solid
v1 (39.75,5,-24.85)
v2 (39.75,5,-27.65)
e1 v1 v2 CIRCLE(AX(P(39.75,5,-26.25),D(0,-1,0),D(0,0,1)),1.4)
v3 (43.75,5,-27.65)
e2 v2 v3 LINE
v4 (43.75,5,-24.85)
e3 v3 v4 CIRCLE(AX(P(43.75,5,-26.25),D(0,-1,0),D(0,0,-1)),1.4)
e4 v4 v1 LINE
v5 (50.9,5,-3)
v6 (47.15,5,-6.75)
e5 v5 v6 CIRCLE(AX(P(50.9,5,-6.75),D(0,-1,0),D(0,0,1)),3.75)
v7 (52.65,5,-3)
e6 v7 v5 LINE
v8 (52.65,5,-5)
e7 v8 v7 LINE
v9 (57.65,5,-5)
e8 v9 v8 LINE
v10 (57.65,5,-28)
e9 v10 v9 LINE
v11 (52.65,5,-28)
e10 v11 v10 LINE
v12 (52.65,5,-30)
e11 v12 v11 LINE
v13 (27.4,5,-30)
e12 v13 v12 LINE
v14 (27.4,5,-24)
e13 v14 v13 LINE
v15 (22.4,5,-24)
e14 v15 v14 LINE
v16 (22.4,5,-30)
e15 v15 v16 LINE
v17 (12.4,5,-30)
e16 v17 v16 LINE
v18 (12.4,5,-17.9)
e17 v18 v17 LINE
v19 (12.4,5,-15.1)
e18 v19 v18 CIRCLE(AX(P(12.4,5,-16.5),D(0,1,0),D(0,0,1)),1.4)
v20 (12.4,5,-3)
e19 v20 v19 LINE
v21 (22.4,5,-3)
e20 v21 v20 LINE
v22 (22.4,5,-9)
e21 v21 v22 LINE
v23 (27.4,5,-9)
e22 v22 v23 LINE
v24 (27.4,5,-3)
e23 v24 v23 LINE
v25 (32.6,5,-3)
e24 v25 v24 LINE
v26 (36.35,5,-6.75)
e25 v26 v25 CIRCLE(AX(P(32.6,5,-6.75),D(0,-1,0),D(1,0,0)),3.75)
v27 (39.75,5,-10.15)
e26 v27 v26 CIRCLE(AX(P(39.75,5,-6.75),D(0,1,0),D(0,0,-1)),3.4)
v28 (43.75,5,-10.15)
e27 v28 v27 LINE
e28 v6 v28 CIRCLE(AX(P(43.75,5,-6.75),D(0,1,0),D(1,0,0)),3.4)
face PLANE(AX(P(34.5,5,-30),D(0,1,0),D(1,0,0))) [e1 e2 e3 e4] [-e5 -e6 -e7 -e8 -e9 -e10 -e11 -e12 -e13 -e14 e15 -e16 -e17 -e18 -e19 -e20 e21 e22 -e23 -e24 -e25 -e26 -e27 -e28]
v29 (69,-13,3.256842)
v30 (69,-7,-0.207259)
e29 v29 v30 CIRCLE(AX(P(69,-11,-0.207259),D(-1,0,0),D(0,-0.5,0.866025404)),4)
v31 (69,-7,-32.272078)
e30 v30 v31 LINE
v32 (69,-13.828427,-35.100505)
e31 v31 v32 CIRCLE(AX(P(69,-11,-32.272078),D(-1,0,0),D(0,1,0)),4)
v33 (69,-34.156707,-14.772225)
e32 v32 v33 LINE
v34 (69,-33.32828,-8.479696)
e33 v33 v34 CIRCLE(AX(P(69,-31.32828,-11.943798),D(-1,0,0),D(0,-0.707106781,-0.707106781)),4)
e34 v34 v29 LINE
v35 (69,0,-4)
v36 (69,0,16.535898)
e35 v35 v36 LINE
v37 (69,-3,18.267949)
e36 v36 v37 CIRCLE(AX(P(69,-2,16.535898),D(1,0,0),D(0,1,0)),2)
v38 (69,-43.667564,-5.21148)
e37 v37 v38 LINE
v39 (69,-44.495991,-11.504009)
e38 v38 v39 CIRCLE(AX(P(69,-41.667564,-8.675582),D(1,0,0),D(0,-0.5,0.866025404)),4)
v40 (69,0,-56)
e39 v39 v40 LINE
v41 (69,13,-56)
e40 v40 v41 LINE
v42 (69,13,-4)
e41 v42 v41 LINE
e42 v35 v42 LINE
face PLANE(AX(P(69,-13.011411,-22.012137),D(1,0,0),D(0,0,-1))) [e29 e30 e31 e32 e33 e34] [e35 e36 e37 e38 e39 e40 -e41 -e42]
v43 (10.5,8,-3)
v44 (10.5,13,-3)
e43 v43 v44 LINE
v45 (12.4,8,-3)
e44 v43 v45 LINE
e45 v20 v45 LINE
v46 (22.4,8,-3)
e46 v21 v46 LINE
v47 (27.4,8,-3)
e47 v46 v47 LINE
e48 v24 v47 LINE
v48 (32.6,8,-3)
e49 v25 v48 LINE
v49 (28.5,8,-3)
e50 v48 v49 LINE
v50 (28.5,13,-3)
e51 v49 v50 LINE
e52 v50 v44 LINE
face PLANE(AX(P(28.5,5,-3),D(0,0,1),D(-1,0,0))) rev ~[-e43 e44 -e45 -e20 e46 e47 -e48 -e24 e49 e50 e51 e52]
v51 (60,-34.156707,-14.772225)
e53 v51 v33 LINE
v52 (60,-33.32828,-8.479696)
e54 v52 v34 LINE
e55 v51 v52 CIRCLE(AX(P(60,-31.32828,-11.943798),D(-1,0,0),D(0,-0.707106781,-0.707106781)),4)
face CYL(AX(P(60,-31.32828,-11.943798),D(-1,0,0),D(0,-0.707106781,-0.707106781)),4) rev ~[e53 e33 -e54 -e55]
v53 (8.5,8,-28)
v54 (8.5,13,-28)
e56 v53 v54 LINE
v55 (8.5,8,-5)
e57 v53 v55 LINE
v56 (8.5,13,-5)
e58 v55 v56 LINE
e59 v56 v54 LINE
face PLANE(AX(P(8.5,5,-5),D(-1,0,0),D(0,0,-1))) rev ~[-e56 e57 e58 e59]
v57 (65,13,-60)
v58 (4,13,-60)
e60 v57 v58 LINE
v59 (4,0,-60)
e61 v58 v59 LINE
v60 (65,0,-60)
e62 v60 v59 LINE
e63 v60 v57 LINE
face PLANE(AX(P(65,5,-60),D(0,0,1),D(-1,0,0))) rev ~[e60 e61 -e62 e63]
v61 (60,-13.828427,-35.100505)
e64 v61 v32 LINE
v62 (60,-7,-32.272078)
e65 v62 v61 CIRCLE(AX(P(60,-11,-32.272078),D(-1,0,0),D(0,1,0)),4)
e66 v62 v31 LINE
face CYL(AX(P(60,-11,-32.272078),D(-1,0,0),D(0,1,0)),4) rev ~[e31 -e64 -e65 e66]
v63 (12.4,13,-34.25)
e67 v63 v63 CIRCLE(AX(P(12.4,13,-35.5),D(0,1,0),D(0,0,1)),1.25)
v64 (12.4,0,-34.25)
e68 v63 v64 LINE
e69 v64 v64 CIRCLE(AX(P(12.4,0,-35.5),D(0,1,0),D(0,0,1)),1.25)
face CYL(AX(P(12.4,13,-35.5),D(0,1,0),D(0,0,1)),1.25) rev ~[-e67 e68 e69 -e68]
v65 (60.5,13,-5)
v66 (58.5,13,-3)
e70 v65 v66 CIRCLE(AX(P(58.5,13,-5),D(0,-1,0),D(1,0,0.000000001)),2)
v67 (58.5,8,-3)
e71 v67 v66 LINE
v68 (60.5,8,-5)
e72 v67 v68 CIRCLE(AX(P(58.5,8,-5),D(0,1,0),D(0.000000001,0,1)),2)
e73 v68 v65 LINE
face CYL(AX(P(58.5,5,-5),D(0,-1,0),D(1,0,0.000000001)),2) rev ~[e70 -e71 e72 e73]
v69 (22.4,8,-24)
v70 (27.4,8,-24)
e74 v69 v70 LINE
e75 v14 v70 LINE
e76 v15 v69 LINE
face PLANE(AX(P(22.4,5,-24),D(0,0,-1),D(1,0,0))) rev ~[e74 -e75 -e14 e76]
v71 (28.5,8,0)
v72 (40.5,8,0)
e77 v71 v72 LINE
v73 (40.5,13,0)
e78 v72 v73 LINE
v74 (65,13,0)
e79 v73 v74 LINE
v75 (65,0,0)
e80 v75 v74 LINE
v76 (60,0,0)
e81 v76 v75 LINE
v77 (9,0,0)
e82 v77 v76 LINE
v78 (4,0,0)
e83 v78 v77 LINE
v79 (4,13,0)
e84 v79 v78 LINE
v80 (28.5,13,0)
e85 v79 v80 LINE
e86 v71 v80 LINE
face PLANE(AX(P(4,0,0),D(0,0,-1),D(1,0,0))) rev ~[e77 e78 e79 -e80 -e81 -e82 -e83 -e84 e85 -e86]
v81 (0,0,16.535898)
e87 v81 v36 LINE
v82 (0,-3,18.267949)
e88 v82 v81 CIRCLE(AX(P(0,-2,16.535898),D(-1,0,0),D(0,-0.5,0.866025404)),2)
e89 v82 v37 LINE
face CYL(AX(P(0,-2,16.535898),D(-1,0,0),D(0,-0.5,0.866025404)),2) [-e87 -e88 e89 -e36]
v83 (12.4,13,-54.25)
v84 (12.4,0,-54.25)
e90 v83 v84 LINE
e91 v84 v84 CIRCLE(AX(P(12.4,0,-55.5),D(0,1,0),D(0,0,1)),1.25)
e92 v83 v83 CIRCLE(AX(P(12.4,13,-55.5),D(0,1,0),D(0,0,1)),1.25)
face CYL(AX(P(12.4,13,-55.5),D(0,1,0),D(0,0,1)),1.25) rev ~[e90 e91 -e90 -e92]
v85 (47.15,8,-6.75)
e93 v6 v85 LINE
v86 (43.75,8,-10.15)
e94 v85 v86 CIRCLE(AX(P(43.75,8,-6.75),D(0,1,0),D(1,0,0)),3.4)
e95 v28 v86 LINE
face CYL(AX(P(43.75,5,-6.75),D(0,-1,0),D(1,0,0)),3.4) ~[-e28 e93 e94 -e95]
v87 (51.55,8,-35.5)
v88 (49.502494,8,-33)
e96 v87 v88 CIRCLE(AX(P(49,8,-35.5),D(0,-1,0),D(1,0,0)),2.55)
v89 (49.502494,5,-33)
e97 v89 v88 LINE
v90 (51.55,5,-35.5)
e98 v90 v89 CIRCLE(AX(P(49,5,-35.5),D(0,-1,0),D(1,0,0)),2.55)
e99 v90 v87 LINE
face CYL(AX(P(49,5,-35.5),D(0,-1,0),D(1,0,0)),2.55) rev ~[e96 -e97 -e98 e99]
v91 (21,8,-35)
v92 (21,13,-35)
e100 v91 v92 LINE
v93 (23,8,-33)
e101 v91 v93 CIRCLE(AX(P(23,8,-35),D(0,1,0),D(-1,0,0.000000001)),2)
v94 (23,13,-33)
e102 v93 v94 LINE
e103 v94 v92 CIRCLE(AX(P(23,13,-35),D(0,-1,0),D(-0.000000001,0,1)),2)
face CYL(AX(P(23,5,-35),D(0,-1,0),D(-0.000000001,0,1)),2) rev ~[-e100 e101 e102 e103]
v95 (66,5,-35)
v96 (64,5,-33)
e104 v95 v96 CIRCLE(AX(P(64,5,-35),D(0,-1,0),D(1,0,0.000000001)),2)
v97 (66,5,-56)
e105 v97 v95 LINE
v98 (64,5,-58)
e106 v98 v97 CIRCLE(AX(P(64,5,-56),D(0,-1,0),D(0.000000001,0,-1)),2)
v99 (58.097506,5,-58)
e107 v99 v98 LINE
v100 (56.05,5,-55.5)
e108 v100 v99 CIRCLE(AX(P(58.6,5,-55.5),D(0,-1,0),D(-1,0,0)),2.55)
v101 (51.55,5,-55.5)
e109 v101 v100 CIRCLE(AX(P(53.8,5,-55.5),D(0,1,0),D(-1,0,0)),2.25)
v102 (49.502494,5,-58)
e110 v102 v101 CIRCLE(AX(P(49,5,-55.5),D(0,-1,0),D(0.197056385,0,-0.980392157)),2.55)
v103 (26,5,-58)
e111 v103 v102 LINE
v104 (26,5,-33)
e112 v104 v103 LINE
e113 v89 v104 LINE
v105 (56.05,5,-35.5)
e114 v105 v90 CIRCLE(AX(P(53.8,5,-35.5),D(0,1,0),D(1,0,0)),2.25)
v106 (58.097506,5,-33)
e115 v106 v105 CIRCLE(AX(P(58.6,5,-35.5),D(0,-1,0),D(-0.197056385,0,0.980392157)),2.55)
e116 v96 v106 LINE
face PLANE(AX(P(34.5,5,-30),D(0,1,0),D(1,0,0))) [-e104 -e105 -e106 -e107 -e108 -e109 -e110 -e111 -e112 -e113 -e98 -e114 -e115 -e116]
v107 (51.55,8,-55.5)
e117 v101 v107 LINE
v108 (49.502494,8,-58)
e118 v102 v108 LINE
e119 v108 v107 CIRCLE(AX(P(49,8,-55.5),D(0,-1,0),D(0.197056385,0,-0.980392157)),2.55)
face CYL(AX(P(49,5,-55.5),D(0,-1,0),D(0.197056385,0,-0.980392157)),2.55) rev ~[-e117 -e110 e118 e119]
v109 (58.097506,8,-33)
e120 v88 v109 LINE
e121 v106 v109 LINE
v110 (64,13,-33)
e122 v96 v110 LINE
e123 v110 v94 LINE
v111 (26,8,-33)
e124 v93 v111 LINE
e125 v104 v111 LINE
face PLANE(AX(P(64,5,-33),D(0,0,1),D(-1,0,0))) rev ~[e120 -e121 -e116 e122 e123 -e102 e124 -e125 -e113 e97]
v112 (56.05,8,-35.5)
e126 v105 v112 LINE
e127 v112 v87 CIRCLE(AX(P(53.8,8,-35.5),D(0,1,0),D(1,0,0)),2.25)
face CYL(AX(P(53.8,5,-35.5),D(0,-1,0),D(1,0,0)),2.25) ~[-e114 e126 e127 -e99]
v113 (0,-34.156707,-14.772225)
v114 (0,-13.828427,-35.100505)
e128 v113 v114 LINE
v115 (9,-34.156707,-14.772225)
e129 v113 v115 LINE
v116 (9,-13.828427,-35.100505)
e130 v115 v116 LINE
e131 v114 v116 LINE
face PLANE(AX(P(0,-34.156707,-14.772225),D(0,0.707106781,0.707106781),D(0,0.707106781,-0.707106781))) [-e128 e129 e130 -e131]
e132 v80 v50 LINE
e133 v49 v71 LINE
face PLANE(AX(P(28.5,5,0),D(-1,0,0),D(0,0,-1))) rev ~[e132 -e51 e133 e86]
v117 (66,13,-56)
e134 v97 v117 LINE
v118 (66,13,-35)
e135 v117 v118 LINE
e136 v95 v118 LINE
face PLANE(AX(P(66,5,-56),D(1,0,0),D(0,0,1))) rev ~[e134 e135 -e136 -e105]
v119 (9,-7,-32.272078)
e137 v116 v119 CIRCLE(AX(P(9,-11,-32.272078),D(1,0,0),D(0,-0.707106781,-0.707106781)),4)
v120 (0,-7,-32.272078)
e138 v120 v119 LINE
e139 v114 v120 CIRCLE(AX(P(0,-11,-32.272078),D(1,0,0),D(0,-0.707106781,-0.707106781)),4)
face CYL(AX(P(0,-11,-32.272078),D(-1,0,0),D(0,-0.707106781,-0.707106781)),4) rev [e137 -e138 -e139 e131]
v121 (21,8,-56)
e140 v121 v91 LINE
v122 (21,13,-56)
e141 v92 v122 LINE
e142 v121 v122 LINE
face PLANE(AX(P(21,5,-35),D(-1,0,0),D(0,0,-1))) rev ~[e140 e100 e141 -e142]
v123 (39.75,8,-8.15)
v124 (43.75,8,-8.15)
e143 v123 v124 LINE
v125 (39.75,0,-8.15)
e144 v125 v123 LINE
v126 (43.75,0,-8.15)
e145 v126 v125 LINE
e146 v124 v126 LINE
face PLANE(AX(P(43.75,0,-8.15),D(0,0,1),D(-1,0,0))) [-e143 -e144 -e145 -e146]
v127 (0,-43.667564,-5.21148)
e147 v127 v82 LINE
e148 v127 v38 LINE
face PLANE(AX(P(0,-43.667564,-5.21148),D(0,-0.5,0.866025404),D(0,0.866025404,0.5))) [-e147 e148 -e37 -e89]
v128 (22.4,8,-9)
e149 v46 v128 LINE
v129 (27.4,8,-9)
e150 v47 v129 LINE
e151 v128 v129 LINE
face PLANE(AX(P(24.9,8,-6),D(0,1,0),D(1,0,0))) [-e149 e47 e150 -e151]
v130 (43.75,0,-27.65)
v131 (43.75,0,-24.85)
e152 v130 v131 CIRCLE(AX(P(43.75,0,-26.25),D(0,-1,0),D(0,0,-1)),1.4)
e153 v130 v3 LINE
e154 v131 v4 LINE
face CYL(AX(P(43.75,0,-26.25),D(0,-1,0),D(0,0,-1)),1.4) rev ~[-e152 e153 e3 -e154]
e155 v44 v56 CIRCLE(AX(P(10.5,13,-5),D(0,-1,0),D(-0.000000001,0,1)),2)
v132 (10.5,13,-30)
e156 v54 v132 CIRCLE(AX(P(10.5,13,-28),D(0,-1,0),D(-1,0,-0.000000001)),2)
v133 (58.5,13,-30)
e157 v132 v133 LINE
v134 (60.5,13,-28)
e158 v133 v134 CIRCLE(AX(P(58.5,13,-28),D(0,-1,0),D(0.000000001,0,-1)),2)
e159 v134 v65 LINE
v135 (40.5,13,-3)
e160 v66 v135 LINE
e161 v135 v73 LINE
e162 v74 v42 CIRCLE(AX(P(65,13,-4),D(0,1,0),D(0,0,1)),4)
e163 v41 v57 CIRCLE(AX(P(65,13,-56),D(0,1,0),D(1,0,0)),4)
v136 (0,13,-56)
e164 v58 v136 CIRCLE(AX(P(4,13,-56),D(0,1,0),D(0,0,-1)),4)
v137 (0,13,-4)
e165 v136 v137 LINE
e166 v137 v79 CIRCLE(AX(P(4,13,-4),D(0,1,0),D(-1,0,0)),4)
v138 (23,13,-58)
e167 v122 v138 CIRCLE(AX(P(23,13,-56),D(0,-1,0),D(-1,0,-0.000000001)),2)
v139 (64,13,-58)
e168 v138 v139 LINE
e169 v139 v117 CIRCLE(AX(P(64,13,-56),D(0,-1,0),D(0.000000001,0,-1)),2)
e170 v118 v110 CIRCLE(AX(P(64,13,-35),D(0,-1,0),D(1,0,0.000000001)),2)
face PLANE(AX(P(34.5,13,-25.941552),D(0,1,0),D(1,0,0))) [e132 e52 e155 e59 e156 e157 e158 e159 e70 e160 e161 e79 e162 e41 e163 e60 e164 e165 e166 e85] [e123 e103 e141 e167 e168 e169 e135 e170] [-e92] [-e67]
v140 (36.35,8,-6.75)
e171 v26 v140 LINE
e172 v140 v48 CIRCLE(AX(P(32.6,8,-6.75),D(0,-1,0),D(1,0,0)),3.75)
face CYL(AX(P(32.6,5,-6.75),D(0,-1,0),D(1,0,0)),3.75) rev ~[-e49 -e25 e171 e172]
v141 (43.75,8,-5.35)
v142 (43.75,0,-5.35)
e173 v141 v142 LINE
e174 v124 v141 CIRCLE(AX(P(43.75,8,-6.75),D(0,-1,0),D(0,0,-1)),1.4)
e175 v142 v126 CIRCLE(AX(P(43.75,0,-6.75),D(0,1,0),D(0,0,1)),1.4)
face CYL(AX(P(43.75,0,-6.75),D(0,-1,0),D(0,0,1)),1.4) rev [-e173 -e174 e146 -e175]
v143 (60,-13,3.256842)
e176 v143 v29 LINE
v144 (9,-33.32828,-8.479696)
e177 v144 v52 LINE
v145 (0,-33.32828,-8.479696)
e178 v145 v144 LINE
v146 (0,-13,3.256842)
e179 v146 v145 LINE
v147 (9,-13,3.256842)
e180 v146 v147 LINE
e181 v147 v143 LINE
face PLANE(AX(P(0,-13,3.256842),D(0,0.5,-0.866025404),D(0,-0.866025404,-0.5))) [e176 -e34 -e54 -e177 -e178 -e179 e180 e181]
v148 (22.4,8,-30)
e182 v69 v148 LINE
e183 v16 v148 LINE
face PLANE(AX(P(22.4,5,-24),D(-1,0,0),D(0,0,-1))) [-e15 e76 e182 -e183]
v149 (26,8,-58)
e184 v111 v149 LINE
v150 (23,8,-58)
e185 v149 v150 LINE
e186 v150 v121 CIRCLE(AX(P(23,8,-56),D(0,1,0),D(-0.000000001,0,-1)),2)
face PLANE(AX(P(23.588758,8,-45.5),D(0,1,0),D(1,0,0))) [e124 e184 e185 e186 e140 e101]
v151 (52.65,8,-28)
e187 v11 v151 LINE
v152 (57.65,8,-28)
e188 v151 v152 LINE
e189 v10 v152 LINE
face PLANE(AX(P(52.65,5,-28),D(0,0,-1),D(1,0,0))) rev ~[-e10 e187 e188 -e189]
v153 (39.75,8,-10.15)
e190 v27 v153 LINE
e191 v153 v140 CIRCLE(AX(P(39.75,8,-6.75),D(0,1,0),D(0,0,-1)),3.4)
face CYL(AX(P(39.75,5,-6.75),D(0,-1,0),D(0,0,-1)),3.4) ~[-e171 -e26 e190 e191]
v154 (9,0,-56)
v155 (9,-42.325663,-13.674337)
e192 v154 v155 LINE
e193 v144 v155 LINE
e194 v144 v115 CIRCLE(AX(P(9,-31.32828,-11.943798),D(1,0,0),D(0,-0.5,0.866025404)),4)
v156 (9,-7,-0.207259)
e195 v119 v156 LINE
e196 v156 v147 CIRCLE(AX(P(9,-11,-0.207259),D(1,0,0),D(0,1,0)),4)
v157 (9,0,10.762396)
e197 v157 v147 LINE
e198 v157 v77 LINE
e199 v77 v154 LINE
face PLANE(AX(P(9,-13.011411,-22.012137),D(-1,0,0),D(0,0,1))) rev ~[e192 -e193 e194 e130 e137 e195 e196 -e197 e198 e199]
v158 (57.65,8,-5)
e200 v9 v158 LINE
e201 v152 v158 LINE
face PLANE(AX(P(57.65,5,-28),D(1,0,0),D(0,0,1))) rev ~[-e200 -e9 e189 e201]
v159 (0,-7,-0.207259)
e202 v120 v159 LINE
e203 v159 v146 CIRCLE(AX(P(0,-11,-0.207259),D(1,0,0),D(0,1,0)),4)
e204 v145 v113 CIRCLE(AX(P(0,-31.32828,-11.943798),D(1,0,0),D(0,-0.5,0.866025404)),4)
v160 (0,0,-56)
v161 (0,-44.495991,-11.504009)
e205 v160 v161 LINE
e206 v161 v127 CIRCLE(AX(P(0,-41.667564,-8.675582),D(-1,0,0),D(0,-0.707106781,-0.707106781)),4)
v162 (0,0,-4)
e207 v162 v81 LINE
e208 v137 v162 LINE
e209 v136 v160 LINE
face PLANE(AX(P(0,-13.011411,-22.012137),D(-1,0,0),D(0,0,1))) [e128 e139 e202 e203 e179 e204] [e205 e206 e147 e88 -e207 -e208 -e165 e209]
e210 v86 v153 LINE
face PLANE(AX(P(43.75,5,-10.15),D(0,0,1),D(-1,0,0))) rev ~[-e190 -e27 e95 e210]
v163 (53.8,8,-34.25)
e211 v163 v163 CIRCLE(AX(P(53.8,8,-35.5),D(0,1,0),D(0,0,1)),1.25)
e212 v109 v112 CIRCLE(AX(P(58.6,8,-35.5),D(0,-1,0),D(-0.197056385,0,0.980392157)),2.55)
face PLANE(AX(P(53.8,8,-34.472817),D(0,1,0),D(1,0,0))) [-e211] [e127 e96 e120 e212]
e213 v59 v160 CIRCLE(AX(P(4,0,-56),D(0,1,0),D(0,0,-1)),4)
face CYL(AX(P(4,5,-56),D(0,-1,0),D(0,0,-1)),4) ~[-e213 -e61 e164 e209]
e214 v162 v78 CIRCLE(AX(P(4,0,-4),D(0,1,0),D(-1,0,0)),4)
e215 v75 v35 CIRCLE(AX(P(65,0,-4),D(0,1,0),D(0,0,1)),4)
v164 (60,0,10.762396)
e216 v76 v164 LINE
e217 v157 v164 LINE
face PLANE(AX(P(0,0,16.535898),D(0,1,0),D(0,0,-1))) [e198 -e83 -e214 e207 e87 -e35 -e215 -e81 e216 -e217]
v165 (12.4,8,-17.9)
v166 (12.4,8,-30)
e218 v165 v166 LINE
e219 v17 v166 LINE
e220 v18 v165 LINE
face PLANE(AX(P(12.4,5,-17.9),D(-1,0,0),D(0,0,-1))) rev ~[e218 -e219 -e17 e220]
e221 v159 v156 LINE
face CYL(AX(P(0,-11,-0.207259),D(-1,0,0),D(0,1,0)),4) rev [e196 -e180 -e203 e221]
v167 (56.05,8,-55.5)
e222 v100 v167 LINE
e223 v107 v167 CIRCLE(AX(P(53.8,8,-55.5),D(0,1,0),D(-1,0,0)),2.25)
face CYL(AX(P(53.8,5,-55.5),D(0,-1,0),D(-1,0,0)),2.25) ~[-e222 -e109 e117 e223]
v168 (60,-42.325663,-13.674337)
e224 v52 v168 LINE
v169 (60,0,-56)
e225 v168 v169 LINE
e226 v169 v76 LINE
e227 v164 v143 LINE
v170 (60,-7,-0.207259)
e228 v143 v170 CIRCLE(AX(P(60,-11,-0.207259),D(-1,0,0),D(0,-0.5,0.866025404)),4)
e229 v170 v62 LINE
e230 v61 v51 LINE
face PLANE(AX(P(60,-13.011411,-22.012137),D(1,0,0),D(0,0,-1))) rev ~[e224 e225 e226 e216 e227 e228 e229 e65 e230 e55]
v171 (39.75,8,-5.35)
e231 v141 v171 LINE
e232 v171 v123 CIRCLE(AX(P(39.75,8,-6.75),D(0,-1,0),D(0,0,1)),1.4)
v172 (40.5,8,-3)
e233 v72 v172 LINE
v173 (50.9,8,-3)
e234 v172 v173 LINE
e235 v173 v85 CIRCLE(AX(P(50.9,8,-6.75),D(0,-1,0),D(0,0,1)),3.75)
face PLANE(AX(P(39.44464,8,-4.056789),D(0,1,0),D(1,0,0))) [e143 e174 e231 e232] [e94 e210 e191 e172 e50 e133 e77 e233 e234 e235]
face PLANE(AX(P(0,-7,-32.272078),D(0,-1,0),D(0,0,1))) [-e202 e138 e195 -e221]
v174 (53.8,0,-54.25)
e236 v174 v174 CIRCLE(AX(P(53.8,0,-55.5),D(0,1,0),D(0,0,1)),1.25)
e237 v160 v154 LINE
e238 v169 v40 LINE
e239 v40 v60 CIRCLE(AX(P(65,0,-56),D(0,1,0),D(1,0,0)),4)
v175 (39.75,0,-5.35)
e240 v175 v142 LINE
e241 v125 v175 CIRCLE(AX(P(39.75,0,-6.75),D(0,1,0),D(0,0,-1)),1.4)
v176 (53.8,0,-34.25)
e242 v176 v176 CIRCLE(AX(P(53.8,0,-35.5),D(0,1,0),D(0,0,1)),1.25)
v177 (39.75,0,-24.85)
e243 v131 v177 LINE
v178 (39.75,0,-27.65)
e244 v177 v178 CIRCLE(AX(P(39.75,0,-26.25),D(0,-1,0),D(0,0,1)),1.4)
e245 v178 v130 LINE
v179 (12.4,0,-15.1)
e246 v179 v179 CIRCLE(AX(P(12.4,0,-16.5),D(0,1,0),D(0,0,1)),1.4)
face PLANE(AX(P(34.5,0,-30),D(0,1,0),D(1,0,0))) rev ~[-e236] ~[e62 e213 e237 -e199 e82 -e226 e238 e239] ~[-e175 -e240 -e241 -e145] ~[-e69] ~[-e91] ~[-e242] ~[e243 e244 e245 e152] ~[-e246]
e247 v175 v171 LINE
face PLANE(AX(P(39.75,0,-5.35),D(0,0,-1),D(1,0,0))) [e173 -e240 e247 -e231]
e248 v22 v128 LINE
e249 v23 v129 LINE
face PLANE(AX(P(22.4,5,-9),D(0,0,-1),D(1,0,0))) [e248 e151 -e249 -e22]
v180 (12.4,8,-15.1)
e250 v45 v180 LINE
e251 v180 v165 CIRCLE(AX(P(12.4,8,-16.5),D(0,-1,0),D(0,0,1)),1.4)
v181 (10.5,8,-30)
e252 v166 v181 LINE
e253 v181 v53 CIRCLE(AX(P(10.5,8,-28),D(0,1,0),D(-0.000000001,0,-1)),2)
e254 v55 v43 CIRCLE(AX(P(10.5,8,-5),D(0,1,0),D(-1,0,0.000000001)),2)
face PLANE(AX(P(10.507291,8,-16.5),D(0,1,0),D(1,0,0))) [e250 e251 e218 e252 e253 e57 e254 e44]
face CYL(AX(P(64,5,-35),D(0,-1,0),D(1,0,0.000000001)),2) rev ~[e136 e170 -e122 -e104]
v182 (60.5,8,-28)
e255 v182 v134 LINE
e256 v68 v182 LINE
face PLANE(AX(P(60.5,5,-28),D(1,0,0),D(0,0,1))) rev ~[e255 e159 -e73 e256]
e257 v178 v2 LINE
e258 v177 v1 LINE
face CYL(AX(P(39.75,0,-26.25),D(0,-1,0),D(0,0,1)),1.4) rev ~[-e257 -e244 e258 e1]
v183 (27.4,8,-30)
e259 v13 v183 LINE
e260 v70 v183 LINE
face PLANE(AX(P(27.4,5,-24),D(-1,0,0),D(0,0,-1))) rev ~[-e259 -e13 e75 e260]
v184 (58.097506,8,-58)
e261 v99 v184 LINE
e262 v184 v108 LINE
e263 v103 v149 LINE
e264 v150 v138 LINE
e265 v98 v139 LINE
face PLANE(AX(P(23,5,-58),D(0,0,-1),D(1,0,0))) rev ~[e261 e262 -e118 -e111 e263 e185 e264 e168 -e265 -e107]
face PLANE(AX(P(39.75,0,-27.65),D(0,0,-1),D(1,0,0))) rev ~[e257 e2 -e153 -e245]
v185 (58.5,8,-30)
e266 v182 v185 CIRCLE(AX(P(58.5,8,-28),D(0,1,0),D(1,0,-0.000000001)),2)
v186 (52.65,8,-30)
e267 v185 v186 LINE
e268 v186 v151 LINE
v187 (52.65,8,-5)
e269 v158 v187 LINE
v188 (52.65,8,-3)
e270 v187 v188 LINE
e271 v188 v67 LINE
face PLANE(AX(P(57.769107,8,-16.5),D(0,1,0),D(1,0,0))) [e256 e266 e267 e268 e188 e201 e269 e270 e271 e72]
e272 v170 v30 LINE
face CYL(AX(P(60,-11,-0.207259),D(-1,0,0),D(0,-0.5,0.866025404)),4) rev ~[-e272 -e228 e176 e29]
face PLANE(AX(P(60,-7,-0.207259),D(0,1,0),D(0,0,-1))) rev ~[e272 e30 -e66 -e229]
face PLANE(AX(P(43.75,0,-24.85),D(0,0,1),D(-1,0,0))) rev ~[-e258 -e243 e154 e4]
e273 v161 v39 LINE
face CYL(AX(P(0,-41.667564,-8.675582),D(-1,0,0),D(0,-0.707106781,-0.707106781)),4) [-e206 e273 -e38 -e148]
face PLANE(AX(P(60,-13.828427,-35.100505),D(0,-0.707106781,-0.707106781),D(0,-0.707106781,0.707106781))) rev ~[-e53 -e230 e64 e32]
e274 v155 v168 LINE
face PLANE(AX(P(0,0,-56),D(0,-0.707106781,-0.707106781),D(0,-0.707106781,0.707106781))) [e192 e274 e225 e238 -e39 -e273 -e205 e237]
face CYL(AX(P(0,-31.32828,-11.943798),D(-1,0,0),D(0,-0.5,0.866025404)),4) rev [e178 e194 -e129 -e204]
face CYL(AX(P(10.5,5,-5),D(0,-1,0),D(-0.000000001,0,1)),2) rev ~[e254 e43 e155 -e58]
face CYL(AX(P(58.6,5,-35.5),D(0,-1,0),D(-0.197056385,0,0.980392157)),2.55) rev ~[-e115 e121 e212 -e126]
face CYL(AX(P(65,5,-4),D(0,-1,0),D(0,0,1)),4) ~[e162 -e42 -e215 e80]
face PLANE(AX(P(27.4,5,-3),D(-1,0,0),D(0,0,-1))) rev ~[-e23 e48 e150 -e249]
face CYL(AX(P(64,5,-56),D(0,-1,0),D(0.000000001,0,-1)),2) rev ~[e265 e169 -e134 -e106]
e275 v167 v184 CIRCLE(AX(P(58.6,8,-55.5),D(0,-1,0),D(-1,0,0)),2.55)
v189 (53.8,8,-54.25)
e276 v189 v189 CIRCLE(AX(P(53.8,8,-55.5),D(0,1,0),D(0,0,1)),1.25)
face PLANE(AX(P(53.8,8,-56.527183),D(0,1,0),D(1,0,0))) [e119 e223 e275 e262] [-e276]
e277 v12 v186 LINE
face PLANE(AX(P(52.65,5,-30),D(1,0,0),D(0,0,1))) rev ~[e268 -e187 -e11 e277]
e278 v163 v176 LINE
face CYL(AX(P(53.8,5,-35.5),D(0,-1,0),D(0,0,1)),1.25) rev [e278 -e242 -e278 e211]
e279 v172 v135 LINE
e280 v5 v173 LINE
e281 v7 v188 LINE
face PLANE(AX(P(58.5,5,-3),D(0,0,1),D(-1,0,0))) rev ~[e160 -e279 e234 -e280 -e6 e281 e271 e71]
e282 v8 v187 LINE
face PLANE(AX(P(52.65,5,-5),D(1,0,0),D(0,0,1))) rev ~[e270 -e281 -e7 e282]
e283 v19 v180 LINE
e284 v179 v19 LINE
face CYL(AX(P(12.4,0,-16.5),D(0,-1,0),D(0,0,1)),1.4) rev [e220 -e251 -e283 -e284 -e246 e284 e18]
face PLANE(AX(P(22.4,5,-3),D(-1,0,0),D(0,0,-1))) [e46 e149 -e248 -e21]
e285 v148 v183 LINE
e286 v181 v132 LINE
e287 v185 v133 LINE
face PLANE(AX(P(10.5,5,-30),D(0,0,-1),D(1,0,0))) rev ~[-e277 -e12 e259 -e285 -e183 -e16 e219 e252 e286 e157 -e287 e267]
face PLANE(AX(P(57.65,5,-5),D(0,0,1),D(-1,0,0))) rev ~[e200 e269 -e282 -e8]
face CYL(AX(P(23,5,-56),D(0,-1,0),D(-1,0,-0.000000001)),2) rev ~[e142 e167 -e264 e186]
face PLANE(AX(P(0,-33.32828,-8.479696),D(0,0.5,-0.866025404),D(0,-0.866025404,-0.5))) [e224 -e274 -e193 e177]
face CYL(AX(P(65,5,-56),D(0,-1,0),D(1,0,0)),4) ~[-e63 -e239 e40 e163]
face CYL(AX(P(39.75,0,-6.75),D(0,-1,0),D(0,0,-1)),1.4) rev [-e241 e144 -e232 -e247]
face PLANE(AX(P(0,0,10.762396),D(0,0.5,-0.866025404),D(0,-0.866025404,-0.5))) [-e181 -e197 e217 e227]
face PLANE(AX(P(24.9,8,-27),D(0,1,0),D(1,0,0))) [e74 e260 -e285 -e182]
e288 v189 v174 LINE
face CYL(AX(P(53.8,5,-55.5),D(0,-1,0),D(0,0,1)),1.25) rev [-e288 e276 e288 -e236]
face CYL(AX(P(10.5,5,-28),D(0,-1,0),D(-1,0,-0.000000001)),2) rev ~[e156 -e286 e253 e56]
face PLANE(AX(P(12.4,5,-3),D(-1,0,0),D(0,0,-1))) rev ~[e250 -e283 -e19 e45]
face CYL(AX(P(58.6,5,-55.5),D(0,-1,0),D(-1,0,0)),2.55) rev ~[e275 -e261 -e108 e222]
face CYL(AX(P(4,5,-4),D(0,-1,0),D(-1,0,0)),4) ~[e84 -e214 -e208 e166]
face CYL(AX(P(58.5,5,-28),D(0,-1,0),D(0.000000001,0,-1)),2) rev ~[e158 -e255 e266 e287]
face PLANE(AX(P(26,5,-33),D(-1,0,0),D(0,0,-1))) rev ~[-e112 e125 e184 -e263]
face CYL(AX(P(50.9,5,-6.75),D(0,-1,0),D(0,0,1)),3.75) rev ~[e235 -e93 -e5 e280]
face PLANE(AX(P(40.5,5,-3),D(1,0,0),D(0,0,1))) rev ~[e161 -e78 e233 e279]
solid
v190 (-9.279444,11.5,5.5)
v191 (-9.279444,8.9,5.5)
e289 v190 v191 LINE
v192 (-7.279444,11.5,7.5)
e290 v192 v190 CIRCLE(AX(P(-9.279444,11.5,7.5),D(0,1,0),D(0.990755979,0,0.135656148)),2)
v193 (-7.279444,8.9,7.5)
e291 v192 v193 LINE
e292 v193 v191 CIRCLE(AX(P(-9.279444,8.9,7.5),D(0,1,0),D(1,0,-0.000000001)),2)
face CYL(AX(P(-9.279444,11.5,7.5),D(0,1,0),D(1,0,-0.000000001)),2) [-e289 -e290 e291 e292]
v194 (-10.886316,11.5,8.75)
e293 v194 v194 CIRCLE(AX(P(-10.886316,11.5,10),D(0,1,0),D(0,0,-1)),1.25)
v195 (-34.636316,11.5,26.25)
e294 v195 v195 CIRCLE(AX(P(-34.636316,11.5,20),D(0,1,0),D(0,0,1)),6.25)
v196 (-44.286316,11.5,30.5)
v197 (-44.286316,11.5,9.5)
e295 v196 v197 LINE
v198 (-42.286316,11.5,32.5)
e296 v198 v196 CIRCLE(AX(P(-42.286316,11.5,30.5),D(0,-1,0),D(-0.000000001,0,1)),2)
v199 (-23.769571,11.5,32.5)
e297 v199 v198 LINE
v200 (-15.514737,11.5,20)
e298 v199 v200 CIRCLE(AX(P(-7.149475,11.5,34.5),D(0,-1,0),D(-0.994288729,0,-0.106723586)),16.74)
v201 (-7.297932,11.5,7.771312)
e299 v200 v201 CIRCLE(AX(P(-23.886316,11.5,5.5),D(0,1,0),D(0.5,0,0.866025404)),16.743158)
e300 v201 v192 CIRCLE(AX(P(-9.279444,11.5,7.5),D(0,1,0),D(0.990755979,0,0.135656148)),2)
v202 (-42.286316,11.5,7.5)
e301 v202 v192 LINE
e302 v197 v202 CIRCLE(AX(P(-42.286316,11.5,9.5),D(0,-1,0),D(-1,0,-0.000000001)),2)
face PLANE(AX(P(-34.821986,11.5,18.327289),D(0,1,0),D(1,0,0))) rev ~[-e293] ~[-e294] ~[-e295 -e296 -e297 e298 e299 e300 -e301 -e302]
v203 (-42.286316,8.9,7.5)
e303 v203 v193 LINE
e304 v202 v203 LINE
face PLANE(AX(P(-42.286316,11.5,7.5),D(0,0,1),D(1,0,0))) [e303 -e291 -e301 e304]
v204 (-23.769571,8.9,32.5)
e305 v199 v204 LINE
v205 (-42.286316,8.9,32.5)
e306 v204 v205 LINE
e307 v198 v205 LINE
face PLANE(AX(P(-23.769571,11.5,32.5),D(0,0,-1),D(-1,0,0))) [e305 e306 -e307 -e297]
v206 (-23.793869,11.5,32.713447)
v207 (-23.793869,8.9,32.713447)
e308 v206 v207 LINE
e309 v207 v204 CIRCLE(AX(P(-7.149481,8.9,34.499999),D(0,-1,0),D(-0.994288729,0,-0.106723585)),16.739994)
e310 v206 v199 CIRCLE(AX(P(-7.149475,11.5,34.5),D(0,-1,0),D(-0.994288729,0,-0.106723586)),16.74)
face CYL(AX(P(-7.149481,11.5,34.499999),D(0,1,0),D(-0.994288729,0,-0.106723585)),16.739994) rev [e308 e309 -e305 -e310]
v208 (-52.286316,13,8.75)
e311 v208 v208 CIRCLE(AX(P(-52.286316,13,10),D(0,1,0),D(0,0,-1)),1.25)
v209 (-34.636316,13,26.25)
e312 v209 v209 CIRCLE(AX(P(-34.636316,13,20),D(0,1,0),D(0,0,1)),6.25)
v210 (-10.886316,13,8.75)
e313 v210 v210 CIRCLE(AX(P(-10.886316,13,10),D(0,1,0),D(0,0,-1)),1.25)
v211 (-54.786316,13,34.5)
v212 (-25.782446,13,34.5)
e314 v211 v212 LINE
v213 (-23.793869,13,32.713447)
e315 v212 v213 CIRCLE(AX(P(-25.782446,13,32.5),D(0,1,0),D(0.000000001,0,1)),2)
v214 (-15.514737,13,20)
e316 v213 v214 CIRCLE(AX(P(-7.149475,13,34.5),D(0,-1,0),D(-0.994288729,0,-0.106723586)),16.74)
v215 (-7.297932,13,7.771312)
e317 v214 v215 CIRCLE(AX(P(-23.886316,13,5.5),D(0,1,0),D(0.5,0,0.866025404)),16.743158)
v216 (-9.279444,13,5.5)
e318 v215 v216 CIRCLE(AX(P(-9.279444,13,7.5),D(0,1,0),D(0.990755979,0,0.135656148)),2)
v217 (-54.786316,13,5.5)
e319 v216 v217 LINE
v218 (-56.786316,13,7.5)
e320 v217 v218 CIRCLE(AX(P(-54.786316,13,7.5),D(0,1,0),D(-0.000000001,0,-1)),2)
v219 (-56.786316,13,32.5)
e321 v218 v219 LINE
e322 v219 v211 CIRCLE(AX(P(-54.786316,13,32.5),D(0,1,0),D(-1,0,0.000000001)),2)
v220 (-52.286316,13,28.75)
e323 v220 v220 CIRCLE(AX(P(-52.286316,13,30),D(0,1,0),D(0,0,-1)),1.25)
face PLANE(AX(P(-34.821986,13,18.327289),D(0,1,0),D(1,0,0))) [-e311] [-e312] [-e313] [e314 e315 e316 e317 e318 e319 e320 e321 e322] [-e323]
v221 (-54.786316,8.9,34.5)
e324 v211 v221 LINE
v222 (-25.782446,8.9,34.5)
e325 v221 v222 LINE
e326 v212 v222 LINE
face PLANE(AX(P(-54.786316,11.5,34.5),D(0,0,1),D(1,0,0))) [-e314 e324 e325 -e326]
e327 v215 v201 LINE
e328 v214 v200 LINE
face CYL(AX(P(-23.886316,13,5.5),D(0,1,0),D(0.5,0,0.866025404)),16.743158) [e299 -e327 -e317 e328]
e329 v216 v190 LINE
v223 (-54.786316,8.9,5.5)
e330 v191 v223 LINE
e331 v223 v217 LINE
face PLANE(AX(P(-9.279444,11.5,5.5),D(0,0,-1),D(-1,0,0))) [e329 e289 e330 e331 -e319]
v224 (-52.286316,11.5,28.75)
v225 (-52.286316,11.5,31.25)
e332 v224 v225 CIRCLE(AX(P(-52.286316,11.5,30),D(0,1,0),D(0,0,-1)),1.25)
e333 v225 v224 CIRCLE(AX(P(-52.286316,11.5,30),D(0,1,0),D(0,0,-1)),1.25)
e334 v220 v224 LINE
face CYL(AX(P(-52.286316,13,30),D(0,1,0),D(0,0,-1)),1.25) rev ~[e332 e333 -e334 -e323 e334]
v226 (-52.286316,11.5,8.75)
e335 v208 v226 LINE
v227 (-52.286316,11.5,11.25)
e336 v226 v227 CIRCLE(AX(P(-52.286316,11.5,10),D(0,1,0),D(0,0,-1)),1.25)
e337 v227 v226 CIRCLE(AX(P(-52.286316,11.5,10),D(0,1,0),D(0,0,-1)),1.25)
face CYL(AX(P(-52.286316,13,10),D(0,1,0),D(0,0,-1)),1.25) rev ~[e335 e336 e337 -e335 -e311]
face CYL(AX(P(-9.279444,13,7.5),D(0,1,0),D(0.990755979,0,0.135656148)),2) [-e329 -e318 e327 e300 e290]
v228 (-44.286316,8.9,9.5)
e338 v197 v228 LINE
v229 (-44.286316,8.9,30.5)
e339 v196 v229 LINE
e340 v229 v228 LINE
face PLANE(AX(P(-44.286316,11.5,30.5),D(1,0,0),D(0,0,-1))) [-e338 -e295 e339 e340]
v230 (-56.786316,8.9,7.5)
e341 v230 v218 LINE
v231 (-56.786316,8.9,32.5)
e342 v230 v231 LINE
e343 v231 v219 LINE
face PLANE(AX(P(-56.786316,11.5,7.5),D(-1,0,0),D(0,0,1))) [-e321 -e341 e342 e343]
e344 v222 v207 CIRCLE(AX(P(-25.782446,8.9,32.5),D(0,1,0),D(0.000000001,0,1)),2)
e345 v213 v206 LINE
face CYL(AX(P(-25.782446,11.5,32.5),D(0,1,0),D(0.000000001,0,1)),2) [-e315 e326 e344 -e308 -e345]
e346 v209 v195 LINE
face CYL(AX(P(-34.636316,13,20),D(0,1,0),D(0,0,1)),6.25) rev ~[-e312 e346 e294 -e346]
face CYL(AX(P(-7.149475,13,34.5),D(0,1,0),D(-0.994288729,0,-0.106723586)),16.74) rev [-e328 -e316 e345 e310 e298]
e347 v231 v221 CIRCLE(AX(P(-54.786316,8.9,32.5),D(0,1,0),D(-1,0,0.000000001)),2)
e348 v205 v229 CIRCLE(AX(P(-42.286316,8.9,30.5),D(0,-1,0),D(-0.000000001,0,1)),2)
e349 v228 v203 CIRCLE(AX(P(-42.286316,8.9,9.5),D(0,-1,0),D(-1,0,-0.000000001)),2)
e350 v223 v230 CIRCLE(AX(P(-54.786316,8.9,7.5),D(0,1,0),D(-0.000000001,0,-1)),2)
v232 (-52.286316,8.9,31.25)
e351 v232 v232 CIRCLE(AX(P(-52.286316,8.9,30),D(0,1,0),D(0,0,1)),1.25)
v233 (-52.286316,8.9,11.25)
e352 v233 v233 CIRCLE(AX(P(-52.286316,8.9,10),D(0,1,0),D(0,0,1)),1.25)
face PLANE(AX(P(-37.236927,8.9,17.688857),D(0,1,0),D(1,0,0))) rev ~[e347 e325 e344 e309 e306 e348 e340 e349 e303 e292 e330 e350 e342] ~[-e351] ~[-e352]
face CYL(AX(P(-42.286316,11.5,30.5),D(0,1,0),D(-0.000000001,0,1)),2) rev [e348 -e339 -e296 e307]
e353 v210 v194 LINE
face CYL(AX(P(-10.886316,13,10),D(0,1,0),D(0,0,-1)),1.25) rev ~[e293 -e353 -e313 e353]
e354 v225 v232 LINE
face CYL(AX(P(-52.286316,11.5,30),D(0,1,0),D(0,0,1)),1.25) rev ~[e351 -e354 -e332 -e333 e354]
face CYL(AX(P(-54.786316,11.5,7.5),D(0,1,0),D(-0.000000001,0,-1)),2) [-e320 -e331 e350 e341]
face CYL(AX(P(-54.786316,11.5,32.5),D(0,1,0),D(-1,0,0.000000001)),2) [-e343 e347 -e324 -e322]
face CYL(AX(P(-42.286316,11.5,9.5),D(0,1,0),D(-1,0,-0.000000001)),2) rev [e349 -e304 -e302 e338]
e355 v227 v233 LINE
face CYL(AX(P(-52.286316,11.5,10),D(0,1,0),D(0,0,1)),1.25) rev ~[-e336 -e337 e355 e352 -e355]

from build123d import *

# Parameters (mm, degrees)
SKETCH_1_R          = 1.25
SKETCH_1_R_2        = 1.4
EXTRUDE_1_DEPTH     = 5
EXTRUDE_2_DEPTH     = 8
SKETCH_2_5_R        = 1.25
SKETCH_2_5_W        = 5
SKETCH_2_5_H        = 6
EXTRUDE_3_DEPTH     = 3
EXTRUDE_4_DEPTH     = 9
EXTRUDE_START       = -9
EXTRUDE_5_DEPTH     = 9
EXTRUDE_6_DEPTH     = 60
SKETCH_8_R          = 6.25
SKETCH_8_R_2        = 1.25
EXTRUDE_7_DEPTH     = 1.5
SKETCH_6_R          = 1.25
CUT_EXTRUDE_1_DEPTH = 13
EXTRUDE_START_2     = -1.5
SKETCH_8_7_R        = 1.25
EXTRUDE_10_DEPTH    = 2.6


with BuildPart() as part:
    # 草图1 → 凸台-拉伸1 (new body)
    with BuildSketch(Plane(origin=(0, 0, 0), x_dir=(1, 0, 0), z_dir=(0, 1, 0))):
        with BuildLine():
            Line((4, 0), (65, 0))
            ThreePointArc((65, 0), (67.828427125, 1.171572875), (69, 4))
            Line((69, 4), (69, 56))
            ThreePointArc((69, 56), (67.828427125, 58.828427125), (65, 60))
            Line((65, 60), (4, 60))
            ThreePointArc((4, 60), (1.171572875, 58.828427125), (0, 56))
            Line((0, 56), (0, 4))
            ThreePointArc((0, 4), (1.171572875, 1.171572875), (4, 0))
        make_face()
        with Locations(Location((53.8, 55.5, 0), (0, 0, 270))):
            Circle(SKETCH_1_R, mode=Mode.SUBTRACT)
        with Locations(Location((53.8, 35.5, 0), (0, 0, 270))):
            Circle(SKETCH_1_R, mode=Mode.SUBTRACT)
        with Locations(Location((12.4, 16.5, 0), (0, 0, 270))):
            Circle(SKETCH_1_R_2, mode=Mode.SUBTRACT)
        with BuildLine():
            Line((39.75, 27.65), (43.75, 27.65))
            ThreePointArc((43.75, 27.65), (45.15, 26.25), (43.75, 24.85))
            Line((43.75, 24.85), (39.75, 24.85))
            ThreePointArc((39.75, 24.85), (38.35, 26.25), (39.75, 27.65))
        make_face(mode=Mode.SUBTRACT)
        with BuildLine():
            Line((39.75, 5.35), (43.75, 5.35))
            ThreePointArc((43.75, 5.35), (45.15, 6.75), (43.75, 8.15))
            Line((43.75, 8.15), (39.75, 8.15))
            ThreePointArc((39.75, 8.15), (38.35, 6.75), (39.75, 5.35))
        make_face(mode=Mode.SUBTRACT)
    extrude(amount=EXTRUDE_1_DEPTH)

    # 草图2 → 凸台-拉伸2 (add)
    with BuildSketch(Plane(origin=(0, 5, 0), x_dir=(1, 0, 0), z_dir=(0, 1, 0))):
        with BuildLine():
            Line((10.5, 30), (12.4, 30))
            Line((12.4, 30), (22.4, 30))
            Line((22.4, 30), (27.4, 30))
            Line((27.4, 30), (52.65, 30))
            Line((52.65, 30), (57.65, 30))
            Line((57.65, 30), (58.5, 30))
            ThreePointArc((58.5, 30), (59.914213562, 29.414213562), (60.5, 28))
            Line((60.5, 28), (60.5, 5))
            ThreePointArc((60.5, 5), (59.914213562, 3.585786438), (58.5, 3))
            Line((58.5, 3), (57.65, 3))
            Line((57.65, 3), (52.65, 3))
            Line((52.65, 3), (50.9, 3))
            Line((50.9, 3), (40.5, 3))
            Line((40.5, 3), (40.5, 0))
            Line((40.5, 0), (65, 0))
            ThreePointArc((65, 0), (67.828427125, 1.171572875), (69, 4))
            Line((69, 4), (69, 56))
            ThreePointArc((69, 56), (67.828427125, 58.828427125), (65, 60))
            Line((65, 60), (4, 60))
            ThreePointArc((4, 60), (1.171572875, 58.828427125), (0, 56))
            Line((0, 56), (0, 4))
            ThreePointArc((0, 4), (1.171572875, 1.171572875), (4, 0))
            Line((4, 0), (28.5, 0))
            Line((28.5, 0), (28.5, 3))
            Line((28.5, 3), (27.4, 3))
            Line((27.4, 3), (22.4, 3))
            Line((22.4, 3), (12.4, 3))
            Line((12.4, 3), (10.5, 3))
            ThreePointArc((10.5, 3), (9.085786438, 3.585786438), (8.5, 5))
            Line((8.5, 5), (8.5, 28))
            ThreePointArc((8.5, 28), (9.085786438, 29.414213562), (10.5, 30))
        make_face()
        with BuildLine():
            Line((23, 58), (26, 58))
            Line((26, 58), (49.502493781, 58))
            Line((49.502493781, 58), (58.097506219, 58))
            Line((58.097506219, 58), (64, 58))
            ThreePointArc((64, 58), (65.414213562, 57.414213562), (66, 56))
            Line((66, 56), (66, 35))
            ThreePointArc((66, 35), (65.414213562, 33.585786438), (64, 33))
            Line((64, 33), (58.097506219, 33))
            Line((58.097506219, 33), (49.502493781, 33))
            Line((49.502493781, 33), (26, 33))
            Line((26, 33), (23, 33))
            ThreePointArc((23, 33), (21.585786438, 33.585786438), (21, 35))
            Line((21, 35), (21, 56))
            ThreePointArc((21, 56), (21.585786438, 57.414213562), (23, 58))
        make_face(mode=Mode.SUBTRACT)
    extrude(amount=EXTRUDE_2_DEPTH)

    # 草图2<5> → 凸台-拉伸3 (add)
    # profile 1 of 8: a face of its own
    with BuildSketch(Plane(origin=(0, 5, 0), x_dir=(1, 0, 0), z_dir=(0, 1, 0))):
        with BuildLine():
            Line((26, 33), (26, 58))
            Line((26, 58), (23, 58))
            ThreePointArc((23, 58), (21.585786438, 57.414213562), (21, 56))
            Line((21, 56), (21, 35))
            ThreePointArc((21, 35), (21.585786438, 33.585786438), (23, 33))
            Line((23, 33), (26, 33))
        make_face()
    # profile 2 of 8: a face of its own
    with BuildSketch(Plane(origin=(0, 5, 0), x_dir=(1, 0, 0), z_dir=(0, 1, 0))):
        with BuildLine():
            Line((58.097506219, 58), (49.502493781, 58))
            ThreePointArc((49.502493781, 58), (50.972797397, 57.115725976), (51.55, 55.5))
            ThreePointArc((51.55, 55.5), (53.8, 53.25), (56.05, 55.5))
            ThreePointArc((56.05, 55.5), (56.627202603, 57.115725976), (58.097506219, 58))
        make_face()
        with Locations(Location((53.8, 55.5, 0), (0, 0, 270))):
            Circle(SKETCH_2_5_R, mode=Mode.SUBTRACT)
    # profile 3 of 8: a face of its own
    with BuildSketch(Plane(origin=(0, 5, 0), x_dir=(1, 0, 0), z_dir=(0, 1, 0))):
        with BuildLine():
            ThreePointArc((51.55, 35.5), (50.972797397, 33.884274024), (49.502493781, 33))
            Line((49.502493781, 33), (58.097506219, 33))
            ThreePointArc((58.097506219, 33), (56.627202603, 33.884274024), (56.05, 35.5))
            ThreePointArc((56.05, 35.5), (53.8, 37.75), (51.55, 35.5))
        make_face()
        with Locations(Location((53.8, 35.5, 0), (0, 0, 270))):
            Circle(SKETCH_2_5_R, mode=Mode.SUBTRACT)
    # profile 4 of 8: a face of its own
    with BuildSketch(Plane(origin=(0, 5, 0), x_dir=(1, 0, 0), z_dir=(0, 1, 0))):
        with BuildLine():
            Line((12.4, 17.9), (12.4, 30))
            Line((12.4, 30), (10.5, 30))
            ThreePointArc((10.5, 30), (9.085786438, 29.414213562), (8.5, 28))
            Line((8.5, 28), (8.5, 5))
            ThreePointArc((8.5, 5), (9.085786438, 3.585786438), (10.5, 3))
            Line((10.5, 3), (12.4, 3))
            Line((12.4, 3), (12.4, 15.1))
            ThreePointArc((12.4, 15.1), (11, 16.5), (12.4, 17.9))
        make_face()
    # profile 5 of 8: a face of its own
    with BuildSketch(Plane(origin=(0, 5, 0), x_dir=(1, 0, 0), z_dir=(0, 1, 0))):
        with Locations((24.9, 27)):
            Rectangle(SKETCH_2_5_W, SKETCH_2_5_H)
    # profile 6 of 8: a face of its own
    with BuildSketch(Plane(origin=(0, 5, 0), x_dir=(1, 0, 0), z_dir=(0, 1, 0))):
        with BuildLine():
            Line((52.65, 30), (52.65, 28))
            Line((52.65, 28), (57.65, 28))
            Line((57.65, 28), (57.65, 5))
            Line((57.65, 5), (52.65, 5))
            Line((52.65, 5), (52.65, 3))
            Line((52.65, 3), (58.5, 3))
            ThreePointArc((58.5, 3), (59.914213562, 3.585786438), (60.5, 5))
            Line((60.5, 5), (60.5, 28))
            ThreePointArc((60.5, 28), (59.914213562, 29.414213562), (58.5, 30))
            Line((58.5, 30), (52.65, 30))
        make_face()
    # profile 7 of 8: a face of its own
    with BuildSketch(Plane(origin=(0, 5, 0), x_dir=(1, 0, 0), z_dir=(0, 1, 0))):
        with Locations((24.9, 6)):
            Rectangle(SKETCH_2_5_W, SKETCH_2_5_H)
    # profile 8 of 8: a face of its own
    with BuildSketch(Plane(origin=(0, 5, 0), x_dir=(1, 0, 0), z_dir=(0, 1, 0))):
        with BuildLine():
            Line((32.6, 3), (28.5, 3))
            Line((28.5, 3), (28.5, 0))
            Line((28.5, 0), (40.5, 0))
            Line((40.5, 0), (40.5, 3))
            Line((40.5, 3), (50.9, 3))
            ThreePointArc((50.9, 3), (48.248349571, 4.098349571), (47.15, 6.75))
            ThreePointArc((47.15, 6.75), (46.154163056, 9.154163056), (43.75, 10.15))
            Line((43.75, 10.15), (39.75, 10.15))
            ThreePointArc((39.75, 10.15), (37.345836944, 9.154163056), (36.35, 6.75))
            ThreePointArc((36.35, 6.75), (35.251650429, 4.098349571), (32.6, 3))
        make_face()
        with BuildLine():
            ThreePointArc((39.75, 5.35), (38.35, 6.75), (39.75, 8.15))
            Line((39.75, 8.15), (43.75, 8.15))
            ThreePointArc((43.75, 8.15), (45.15, 6.75), (43.75, 5.35))
            Line((43.75, 5.35), (39.75, 5.35))
        make_face(mode=Mode.SUBTRACT)
    extrude(amount=EXTRUDE_3_DEPTH)

    # 草图4 → 凸台-拉伸4 (add)
    with BuildSketch(Plane.ZY):
        with BuildLine():
            Line((10.762395693, 0), (-4, 0))
            Line((-4, 0), (-56, 0))
            Line((-56, 0), (-13.674337148, -42.325662852))
            Line((-13.674337148, -42.325662852), (-8.479695951, -33.328280372))
            ThreePointArc((-8.479695951, -33.328280372), (-11.421692798, -35.294059818), (-14.772224691, -34.156707497))
            Line((-14.772224691, -34.156707497), (-35.100505063, -13.828427125))
            ThreePointArc((-35.100505063, -13.828427125), (-35.967596069, -9.469266271), (-32.272077939, -7))
            Line((-32.272077939, -7), (-0.207259422, -7))
            ThreePointArc((-0.207259422, -7), (3.256842194, -9), (3.256842194, -13))
            Line((3.256842194, -13), (10.762395693, 0))
        make_face()
        with BuildLine():
            Line((16.535898385, 0), (10.762395693, 0))
            Line((10.762395693, 0), (3.256842194, -13))
            Line((3.256842194, -13), (-8.479695951, -33.328280372))
            Line((-8.479695951, -33.328280372), (-13.674337148, -42.325662852))
            Line((-13.674337148, -42.325662852), (-11.504008682, -44.495991318))
            ThreePointArc((-11.504008682, -44.495991318), (-8.153476788, -45.633343639), (-5.211479942, -43.667564193))
            Line((-5.211479942, -43.667564193), (18.267949192, -3))
            ThreePointArc((18.267949192, -3), (18.267949192, -1), (16.535898385, 0))
        make_face()
    extrude(amount=-EXTRUDE_4_DEPTH)

    # 草图5 → 凸台-拉伸5 (add)
    with BuildSketch(Plane(origin=(69, 0, 0), x_dir=(0, 0, -1), z_dir=(1, 0, 0)).offset(EXTRUDE_START)):
        with BuildLine():
            Line((56, 0), (4, 0))
            Line((4, 0), (-10.762395693, 0))
            Line((-10.762395693, 0), (-3.256842194, -13))
            ThreePointArc((-3.256842194, -13), (-3.256842194, -9), (0.207259422, -7))
            Line((0.207259422, -7), (32.272077939, -7))
            ThreePointArc((32.272077939, -7), (35.967596069, -9.469266271), (35.100505063, -13.828427125))
            Line((35.100505063, -13.828427125), (14.772224691, -34.156707497))
            ThreePointArc((14.772224691, -34.156707497), (11.421692798, -35.294059818), (8.479695951, -33.328280372))
            Line((8.479695951, -33.328280372), (13.674337148, -42.325662852))
            Line((13.674337148, -42.325662852), (56, 0))
        make_face()
        with BuildLine():
            Line((-3.256842194, -13), (-10.762395693, 0))
            Line((-10.762395693, 0), (-16.535898385, 0))
            ThreePointArc((-16.535898385, 0), (-18.267949192, -1), (-18.267949192, -3))
            Line((-18.267949192, -3), (5.211479942, -43.667564193))
            ThreePointArc((5.211479942, -43.667564193), (8.153476788, -45.633343639), (11.504008682, -44.495991318))
            Line((11.504008682, -44.495991318), (13.674337148, -42.325662852))
            Line((13.674337148, -42.325662852), (8.479695951, -33.328280372))
            Line((8.479695951, -33.328280372), (-3.256842194, -13))
        make_face()
    extrude(amount=EXTRUDE_5_DEPTH)

    # 草图4<5> → 凸台-拉伸6 (add)
    with BuildSketch(Plane.ZY):
        with BuildLine():
            Line((16.535898385, 0), (10.762395693, 0))
            Line((10.762395693, 0), (3.256842194, -13))
            Line((3.256842194, -13), (-8.479695951, -33.328280372))
            Line((-8.479695951, -33.328280372), (-13.674337148, -42.325662852))
            Line((-13.674337148, -42.325662852), (-11.504008682, -44.495991318))
            ThreePointArc((-11.504008682, -44.495991318), (-8.153476788, -45.633343639), (-5.211479942, -43.667564193))
            Line((-5.211479942, -43.667564193), (18.267949192, -3))
            ThreePointArc((18.267949192, -3), (18.267949192, -1), (16.535898385, 0))
        make_face()
    extrude(amount=-EXTRUDE_6_DEPTH)

    # 草图6 → 切除-拉伸1 (cut)
    with BuildSketch(Plane(origin=(0, 13, 0), x_dir=(1, 0, 0), z_dir=(0, 1, 0))):
        with Locations(Location((12.4, 55.5, 0), (0, 0, 270))):
            Circle(SKETCH_6_R)
        with Locations(Location((12.4, 35.5, 0), (0, 0, 270))):
            Circle(SKETCH_6_R)
    extrude(amount=-CUT_EXTRUDE_1_DEPTH, mode=Mode.SUBTRACT)


with BuildPart() as body_2:
    # 草图8 → 凸台-拉伸7 (new body)
    with BuildSketch(Plane(origin=(0, 13, 0), x_dir=(1, 0, 0), z_dir=(0, 1, 0))):
        with BuildLine():
            Line((-54.786315613, -34.5), (-25.782445985, -34.5))
            ThreePointArc((-25.782445985, -34.5), (-24.445826059, -33.987765832), (-23.793868528, -32.713447172))
            ThreePointArc((-23.793868528, -32.713447172), (-21.177256334, -25.364959952), (-15.51473671, -20))
            ThreePointArc((-15.51473671, -20), (-9.989008894, -14.837997607), (-7.297931913, -7.771312296))
            ThreePointArc((-7.297931913, -7.771312296), (-7.772356515, -6.185204311), (-9.27944387, -5.5))
            Line((-9.27944387, -5.5), (-54.786315613, -5.5))
            ThreePointArc((-54.786315613, -5.5), (-56.200529175, -6.085786438), (-56.786315613, -7.5))
            Line((-56.786315613, -7.5), (-56.786315613, -32.5))
            ThreePointArc((-56.786315613, -32.5), (-56.200529175, -33.914213562), (-54.786315613, -34.5))
        make_face()
        with Locations(Location((-34.636315613, -20, 0), (0, 0, 270))):
            Circle(SKETCH_8_R, mode=Mode.SUBTRACT)
        with Locations(Location((-10.886315613, -10, 0), (0, 0, 90))):
            Circle(SKETCH_8_R_2, mode=Mode.SUBTRACT)
        with Locations(Location((-52.286315613, -30, 0), (0, 0, 90))):
            Circle(SKETCH_8_R_2, mode=Mode.SUBTRACT)
        with Locations(Location((-52.286315613, -10, 0), (0, 0, 90))):
            Circle(SKETCH_8_R_2, mode=Mode.SUBTRACT)
    extrude(amount=-EXTRUDE_7_DEPTH)

    # 草图8<7> → 凸台-拉伸10 (add)
    with BuildSketch(Plane(origin=(0, 13, 0), x_dir=(1, 0, 0), z_dir=(0, 1, 0)).offset(EXTRUDE_START_2)):
        with BuildLine():
            ThreePointArc((-44.286315613, -9.5), (-43.700529175, -8.085786438), (-42.286315613, -7.5))
            Line((-42.286315613, -7.5), (-15.861252799, -7.5))
            Line((-15.861252799, -7.5), (-7.27944387, -7.5))
            ThreePointArc((-7.27944387, -7.5), (-7.865230308, -6.085786438), (-9.27944387, -5.5))
            Line((-9.27944387, -5.5), (-54.786315613, -5.5))
            ThreePointArc((-54.786315613, -5.5), (-56.200529175, -6.085786438), (-56.786315613, -7.5))
            Line((-56.786315613, -7.5), (-56.786315613, -32.5))
            ThreePointArc((-56.786315613, -32.5), (-56.200529175, -33.914213562), (-54.786315613, -34.5))
            Line((-54.786315613, -34.5), (-25.782445985, -34.5))
            ThreePointArc((-25.782445985, -34.5), (-24.445826059, -33.987765832), (-23.793868528, -32.713447172))
            ThreePointArc((-23.793868528, -32.713447172), (-23.782062404, -32.60668461), (-23.769571477, -32.5))
            Line((-23.769571477, -32.5), (-25.782445985, -32.5))
            Line((-25.782445985, -32.5), (-42.286315613, -32.5))
            ThreePointArc((-42.286315613, -32.5), (-43.700529175, -31.914213562), (-44.286315613, -30.5))
            Line((-44.286315613, -30.5), (-44.286315613, -9.5))
        make_face()
        with Locations(Location((-52.286315613, -30, 0), (0, 0, 270))):
            Circle(SKETCH_8_7_R, mode=Mode.SUBTRACT)
        with Locations(Location((-52.286315613, -10, 0), (0, 0, 270))):
            Circle(SKETCH_8_7_R, mode=Mode.SUBTRACT)
    extrude(amount=-EXTRUDE_10_DEPTH)


solid = Compound([part.part, body_2.part])
